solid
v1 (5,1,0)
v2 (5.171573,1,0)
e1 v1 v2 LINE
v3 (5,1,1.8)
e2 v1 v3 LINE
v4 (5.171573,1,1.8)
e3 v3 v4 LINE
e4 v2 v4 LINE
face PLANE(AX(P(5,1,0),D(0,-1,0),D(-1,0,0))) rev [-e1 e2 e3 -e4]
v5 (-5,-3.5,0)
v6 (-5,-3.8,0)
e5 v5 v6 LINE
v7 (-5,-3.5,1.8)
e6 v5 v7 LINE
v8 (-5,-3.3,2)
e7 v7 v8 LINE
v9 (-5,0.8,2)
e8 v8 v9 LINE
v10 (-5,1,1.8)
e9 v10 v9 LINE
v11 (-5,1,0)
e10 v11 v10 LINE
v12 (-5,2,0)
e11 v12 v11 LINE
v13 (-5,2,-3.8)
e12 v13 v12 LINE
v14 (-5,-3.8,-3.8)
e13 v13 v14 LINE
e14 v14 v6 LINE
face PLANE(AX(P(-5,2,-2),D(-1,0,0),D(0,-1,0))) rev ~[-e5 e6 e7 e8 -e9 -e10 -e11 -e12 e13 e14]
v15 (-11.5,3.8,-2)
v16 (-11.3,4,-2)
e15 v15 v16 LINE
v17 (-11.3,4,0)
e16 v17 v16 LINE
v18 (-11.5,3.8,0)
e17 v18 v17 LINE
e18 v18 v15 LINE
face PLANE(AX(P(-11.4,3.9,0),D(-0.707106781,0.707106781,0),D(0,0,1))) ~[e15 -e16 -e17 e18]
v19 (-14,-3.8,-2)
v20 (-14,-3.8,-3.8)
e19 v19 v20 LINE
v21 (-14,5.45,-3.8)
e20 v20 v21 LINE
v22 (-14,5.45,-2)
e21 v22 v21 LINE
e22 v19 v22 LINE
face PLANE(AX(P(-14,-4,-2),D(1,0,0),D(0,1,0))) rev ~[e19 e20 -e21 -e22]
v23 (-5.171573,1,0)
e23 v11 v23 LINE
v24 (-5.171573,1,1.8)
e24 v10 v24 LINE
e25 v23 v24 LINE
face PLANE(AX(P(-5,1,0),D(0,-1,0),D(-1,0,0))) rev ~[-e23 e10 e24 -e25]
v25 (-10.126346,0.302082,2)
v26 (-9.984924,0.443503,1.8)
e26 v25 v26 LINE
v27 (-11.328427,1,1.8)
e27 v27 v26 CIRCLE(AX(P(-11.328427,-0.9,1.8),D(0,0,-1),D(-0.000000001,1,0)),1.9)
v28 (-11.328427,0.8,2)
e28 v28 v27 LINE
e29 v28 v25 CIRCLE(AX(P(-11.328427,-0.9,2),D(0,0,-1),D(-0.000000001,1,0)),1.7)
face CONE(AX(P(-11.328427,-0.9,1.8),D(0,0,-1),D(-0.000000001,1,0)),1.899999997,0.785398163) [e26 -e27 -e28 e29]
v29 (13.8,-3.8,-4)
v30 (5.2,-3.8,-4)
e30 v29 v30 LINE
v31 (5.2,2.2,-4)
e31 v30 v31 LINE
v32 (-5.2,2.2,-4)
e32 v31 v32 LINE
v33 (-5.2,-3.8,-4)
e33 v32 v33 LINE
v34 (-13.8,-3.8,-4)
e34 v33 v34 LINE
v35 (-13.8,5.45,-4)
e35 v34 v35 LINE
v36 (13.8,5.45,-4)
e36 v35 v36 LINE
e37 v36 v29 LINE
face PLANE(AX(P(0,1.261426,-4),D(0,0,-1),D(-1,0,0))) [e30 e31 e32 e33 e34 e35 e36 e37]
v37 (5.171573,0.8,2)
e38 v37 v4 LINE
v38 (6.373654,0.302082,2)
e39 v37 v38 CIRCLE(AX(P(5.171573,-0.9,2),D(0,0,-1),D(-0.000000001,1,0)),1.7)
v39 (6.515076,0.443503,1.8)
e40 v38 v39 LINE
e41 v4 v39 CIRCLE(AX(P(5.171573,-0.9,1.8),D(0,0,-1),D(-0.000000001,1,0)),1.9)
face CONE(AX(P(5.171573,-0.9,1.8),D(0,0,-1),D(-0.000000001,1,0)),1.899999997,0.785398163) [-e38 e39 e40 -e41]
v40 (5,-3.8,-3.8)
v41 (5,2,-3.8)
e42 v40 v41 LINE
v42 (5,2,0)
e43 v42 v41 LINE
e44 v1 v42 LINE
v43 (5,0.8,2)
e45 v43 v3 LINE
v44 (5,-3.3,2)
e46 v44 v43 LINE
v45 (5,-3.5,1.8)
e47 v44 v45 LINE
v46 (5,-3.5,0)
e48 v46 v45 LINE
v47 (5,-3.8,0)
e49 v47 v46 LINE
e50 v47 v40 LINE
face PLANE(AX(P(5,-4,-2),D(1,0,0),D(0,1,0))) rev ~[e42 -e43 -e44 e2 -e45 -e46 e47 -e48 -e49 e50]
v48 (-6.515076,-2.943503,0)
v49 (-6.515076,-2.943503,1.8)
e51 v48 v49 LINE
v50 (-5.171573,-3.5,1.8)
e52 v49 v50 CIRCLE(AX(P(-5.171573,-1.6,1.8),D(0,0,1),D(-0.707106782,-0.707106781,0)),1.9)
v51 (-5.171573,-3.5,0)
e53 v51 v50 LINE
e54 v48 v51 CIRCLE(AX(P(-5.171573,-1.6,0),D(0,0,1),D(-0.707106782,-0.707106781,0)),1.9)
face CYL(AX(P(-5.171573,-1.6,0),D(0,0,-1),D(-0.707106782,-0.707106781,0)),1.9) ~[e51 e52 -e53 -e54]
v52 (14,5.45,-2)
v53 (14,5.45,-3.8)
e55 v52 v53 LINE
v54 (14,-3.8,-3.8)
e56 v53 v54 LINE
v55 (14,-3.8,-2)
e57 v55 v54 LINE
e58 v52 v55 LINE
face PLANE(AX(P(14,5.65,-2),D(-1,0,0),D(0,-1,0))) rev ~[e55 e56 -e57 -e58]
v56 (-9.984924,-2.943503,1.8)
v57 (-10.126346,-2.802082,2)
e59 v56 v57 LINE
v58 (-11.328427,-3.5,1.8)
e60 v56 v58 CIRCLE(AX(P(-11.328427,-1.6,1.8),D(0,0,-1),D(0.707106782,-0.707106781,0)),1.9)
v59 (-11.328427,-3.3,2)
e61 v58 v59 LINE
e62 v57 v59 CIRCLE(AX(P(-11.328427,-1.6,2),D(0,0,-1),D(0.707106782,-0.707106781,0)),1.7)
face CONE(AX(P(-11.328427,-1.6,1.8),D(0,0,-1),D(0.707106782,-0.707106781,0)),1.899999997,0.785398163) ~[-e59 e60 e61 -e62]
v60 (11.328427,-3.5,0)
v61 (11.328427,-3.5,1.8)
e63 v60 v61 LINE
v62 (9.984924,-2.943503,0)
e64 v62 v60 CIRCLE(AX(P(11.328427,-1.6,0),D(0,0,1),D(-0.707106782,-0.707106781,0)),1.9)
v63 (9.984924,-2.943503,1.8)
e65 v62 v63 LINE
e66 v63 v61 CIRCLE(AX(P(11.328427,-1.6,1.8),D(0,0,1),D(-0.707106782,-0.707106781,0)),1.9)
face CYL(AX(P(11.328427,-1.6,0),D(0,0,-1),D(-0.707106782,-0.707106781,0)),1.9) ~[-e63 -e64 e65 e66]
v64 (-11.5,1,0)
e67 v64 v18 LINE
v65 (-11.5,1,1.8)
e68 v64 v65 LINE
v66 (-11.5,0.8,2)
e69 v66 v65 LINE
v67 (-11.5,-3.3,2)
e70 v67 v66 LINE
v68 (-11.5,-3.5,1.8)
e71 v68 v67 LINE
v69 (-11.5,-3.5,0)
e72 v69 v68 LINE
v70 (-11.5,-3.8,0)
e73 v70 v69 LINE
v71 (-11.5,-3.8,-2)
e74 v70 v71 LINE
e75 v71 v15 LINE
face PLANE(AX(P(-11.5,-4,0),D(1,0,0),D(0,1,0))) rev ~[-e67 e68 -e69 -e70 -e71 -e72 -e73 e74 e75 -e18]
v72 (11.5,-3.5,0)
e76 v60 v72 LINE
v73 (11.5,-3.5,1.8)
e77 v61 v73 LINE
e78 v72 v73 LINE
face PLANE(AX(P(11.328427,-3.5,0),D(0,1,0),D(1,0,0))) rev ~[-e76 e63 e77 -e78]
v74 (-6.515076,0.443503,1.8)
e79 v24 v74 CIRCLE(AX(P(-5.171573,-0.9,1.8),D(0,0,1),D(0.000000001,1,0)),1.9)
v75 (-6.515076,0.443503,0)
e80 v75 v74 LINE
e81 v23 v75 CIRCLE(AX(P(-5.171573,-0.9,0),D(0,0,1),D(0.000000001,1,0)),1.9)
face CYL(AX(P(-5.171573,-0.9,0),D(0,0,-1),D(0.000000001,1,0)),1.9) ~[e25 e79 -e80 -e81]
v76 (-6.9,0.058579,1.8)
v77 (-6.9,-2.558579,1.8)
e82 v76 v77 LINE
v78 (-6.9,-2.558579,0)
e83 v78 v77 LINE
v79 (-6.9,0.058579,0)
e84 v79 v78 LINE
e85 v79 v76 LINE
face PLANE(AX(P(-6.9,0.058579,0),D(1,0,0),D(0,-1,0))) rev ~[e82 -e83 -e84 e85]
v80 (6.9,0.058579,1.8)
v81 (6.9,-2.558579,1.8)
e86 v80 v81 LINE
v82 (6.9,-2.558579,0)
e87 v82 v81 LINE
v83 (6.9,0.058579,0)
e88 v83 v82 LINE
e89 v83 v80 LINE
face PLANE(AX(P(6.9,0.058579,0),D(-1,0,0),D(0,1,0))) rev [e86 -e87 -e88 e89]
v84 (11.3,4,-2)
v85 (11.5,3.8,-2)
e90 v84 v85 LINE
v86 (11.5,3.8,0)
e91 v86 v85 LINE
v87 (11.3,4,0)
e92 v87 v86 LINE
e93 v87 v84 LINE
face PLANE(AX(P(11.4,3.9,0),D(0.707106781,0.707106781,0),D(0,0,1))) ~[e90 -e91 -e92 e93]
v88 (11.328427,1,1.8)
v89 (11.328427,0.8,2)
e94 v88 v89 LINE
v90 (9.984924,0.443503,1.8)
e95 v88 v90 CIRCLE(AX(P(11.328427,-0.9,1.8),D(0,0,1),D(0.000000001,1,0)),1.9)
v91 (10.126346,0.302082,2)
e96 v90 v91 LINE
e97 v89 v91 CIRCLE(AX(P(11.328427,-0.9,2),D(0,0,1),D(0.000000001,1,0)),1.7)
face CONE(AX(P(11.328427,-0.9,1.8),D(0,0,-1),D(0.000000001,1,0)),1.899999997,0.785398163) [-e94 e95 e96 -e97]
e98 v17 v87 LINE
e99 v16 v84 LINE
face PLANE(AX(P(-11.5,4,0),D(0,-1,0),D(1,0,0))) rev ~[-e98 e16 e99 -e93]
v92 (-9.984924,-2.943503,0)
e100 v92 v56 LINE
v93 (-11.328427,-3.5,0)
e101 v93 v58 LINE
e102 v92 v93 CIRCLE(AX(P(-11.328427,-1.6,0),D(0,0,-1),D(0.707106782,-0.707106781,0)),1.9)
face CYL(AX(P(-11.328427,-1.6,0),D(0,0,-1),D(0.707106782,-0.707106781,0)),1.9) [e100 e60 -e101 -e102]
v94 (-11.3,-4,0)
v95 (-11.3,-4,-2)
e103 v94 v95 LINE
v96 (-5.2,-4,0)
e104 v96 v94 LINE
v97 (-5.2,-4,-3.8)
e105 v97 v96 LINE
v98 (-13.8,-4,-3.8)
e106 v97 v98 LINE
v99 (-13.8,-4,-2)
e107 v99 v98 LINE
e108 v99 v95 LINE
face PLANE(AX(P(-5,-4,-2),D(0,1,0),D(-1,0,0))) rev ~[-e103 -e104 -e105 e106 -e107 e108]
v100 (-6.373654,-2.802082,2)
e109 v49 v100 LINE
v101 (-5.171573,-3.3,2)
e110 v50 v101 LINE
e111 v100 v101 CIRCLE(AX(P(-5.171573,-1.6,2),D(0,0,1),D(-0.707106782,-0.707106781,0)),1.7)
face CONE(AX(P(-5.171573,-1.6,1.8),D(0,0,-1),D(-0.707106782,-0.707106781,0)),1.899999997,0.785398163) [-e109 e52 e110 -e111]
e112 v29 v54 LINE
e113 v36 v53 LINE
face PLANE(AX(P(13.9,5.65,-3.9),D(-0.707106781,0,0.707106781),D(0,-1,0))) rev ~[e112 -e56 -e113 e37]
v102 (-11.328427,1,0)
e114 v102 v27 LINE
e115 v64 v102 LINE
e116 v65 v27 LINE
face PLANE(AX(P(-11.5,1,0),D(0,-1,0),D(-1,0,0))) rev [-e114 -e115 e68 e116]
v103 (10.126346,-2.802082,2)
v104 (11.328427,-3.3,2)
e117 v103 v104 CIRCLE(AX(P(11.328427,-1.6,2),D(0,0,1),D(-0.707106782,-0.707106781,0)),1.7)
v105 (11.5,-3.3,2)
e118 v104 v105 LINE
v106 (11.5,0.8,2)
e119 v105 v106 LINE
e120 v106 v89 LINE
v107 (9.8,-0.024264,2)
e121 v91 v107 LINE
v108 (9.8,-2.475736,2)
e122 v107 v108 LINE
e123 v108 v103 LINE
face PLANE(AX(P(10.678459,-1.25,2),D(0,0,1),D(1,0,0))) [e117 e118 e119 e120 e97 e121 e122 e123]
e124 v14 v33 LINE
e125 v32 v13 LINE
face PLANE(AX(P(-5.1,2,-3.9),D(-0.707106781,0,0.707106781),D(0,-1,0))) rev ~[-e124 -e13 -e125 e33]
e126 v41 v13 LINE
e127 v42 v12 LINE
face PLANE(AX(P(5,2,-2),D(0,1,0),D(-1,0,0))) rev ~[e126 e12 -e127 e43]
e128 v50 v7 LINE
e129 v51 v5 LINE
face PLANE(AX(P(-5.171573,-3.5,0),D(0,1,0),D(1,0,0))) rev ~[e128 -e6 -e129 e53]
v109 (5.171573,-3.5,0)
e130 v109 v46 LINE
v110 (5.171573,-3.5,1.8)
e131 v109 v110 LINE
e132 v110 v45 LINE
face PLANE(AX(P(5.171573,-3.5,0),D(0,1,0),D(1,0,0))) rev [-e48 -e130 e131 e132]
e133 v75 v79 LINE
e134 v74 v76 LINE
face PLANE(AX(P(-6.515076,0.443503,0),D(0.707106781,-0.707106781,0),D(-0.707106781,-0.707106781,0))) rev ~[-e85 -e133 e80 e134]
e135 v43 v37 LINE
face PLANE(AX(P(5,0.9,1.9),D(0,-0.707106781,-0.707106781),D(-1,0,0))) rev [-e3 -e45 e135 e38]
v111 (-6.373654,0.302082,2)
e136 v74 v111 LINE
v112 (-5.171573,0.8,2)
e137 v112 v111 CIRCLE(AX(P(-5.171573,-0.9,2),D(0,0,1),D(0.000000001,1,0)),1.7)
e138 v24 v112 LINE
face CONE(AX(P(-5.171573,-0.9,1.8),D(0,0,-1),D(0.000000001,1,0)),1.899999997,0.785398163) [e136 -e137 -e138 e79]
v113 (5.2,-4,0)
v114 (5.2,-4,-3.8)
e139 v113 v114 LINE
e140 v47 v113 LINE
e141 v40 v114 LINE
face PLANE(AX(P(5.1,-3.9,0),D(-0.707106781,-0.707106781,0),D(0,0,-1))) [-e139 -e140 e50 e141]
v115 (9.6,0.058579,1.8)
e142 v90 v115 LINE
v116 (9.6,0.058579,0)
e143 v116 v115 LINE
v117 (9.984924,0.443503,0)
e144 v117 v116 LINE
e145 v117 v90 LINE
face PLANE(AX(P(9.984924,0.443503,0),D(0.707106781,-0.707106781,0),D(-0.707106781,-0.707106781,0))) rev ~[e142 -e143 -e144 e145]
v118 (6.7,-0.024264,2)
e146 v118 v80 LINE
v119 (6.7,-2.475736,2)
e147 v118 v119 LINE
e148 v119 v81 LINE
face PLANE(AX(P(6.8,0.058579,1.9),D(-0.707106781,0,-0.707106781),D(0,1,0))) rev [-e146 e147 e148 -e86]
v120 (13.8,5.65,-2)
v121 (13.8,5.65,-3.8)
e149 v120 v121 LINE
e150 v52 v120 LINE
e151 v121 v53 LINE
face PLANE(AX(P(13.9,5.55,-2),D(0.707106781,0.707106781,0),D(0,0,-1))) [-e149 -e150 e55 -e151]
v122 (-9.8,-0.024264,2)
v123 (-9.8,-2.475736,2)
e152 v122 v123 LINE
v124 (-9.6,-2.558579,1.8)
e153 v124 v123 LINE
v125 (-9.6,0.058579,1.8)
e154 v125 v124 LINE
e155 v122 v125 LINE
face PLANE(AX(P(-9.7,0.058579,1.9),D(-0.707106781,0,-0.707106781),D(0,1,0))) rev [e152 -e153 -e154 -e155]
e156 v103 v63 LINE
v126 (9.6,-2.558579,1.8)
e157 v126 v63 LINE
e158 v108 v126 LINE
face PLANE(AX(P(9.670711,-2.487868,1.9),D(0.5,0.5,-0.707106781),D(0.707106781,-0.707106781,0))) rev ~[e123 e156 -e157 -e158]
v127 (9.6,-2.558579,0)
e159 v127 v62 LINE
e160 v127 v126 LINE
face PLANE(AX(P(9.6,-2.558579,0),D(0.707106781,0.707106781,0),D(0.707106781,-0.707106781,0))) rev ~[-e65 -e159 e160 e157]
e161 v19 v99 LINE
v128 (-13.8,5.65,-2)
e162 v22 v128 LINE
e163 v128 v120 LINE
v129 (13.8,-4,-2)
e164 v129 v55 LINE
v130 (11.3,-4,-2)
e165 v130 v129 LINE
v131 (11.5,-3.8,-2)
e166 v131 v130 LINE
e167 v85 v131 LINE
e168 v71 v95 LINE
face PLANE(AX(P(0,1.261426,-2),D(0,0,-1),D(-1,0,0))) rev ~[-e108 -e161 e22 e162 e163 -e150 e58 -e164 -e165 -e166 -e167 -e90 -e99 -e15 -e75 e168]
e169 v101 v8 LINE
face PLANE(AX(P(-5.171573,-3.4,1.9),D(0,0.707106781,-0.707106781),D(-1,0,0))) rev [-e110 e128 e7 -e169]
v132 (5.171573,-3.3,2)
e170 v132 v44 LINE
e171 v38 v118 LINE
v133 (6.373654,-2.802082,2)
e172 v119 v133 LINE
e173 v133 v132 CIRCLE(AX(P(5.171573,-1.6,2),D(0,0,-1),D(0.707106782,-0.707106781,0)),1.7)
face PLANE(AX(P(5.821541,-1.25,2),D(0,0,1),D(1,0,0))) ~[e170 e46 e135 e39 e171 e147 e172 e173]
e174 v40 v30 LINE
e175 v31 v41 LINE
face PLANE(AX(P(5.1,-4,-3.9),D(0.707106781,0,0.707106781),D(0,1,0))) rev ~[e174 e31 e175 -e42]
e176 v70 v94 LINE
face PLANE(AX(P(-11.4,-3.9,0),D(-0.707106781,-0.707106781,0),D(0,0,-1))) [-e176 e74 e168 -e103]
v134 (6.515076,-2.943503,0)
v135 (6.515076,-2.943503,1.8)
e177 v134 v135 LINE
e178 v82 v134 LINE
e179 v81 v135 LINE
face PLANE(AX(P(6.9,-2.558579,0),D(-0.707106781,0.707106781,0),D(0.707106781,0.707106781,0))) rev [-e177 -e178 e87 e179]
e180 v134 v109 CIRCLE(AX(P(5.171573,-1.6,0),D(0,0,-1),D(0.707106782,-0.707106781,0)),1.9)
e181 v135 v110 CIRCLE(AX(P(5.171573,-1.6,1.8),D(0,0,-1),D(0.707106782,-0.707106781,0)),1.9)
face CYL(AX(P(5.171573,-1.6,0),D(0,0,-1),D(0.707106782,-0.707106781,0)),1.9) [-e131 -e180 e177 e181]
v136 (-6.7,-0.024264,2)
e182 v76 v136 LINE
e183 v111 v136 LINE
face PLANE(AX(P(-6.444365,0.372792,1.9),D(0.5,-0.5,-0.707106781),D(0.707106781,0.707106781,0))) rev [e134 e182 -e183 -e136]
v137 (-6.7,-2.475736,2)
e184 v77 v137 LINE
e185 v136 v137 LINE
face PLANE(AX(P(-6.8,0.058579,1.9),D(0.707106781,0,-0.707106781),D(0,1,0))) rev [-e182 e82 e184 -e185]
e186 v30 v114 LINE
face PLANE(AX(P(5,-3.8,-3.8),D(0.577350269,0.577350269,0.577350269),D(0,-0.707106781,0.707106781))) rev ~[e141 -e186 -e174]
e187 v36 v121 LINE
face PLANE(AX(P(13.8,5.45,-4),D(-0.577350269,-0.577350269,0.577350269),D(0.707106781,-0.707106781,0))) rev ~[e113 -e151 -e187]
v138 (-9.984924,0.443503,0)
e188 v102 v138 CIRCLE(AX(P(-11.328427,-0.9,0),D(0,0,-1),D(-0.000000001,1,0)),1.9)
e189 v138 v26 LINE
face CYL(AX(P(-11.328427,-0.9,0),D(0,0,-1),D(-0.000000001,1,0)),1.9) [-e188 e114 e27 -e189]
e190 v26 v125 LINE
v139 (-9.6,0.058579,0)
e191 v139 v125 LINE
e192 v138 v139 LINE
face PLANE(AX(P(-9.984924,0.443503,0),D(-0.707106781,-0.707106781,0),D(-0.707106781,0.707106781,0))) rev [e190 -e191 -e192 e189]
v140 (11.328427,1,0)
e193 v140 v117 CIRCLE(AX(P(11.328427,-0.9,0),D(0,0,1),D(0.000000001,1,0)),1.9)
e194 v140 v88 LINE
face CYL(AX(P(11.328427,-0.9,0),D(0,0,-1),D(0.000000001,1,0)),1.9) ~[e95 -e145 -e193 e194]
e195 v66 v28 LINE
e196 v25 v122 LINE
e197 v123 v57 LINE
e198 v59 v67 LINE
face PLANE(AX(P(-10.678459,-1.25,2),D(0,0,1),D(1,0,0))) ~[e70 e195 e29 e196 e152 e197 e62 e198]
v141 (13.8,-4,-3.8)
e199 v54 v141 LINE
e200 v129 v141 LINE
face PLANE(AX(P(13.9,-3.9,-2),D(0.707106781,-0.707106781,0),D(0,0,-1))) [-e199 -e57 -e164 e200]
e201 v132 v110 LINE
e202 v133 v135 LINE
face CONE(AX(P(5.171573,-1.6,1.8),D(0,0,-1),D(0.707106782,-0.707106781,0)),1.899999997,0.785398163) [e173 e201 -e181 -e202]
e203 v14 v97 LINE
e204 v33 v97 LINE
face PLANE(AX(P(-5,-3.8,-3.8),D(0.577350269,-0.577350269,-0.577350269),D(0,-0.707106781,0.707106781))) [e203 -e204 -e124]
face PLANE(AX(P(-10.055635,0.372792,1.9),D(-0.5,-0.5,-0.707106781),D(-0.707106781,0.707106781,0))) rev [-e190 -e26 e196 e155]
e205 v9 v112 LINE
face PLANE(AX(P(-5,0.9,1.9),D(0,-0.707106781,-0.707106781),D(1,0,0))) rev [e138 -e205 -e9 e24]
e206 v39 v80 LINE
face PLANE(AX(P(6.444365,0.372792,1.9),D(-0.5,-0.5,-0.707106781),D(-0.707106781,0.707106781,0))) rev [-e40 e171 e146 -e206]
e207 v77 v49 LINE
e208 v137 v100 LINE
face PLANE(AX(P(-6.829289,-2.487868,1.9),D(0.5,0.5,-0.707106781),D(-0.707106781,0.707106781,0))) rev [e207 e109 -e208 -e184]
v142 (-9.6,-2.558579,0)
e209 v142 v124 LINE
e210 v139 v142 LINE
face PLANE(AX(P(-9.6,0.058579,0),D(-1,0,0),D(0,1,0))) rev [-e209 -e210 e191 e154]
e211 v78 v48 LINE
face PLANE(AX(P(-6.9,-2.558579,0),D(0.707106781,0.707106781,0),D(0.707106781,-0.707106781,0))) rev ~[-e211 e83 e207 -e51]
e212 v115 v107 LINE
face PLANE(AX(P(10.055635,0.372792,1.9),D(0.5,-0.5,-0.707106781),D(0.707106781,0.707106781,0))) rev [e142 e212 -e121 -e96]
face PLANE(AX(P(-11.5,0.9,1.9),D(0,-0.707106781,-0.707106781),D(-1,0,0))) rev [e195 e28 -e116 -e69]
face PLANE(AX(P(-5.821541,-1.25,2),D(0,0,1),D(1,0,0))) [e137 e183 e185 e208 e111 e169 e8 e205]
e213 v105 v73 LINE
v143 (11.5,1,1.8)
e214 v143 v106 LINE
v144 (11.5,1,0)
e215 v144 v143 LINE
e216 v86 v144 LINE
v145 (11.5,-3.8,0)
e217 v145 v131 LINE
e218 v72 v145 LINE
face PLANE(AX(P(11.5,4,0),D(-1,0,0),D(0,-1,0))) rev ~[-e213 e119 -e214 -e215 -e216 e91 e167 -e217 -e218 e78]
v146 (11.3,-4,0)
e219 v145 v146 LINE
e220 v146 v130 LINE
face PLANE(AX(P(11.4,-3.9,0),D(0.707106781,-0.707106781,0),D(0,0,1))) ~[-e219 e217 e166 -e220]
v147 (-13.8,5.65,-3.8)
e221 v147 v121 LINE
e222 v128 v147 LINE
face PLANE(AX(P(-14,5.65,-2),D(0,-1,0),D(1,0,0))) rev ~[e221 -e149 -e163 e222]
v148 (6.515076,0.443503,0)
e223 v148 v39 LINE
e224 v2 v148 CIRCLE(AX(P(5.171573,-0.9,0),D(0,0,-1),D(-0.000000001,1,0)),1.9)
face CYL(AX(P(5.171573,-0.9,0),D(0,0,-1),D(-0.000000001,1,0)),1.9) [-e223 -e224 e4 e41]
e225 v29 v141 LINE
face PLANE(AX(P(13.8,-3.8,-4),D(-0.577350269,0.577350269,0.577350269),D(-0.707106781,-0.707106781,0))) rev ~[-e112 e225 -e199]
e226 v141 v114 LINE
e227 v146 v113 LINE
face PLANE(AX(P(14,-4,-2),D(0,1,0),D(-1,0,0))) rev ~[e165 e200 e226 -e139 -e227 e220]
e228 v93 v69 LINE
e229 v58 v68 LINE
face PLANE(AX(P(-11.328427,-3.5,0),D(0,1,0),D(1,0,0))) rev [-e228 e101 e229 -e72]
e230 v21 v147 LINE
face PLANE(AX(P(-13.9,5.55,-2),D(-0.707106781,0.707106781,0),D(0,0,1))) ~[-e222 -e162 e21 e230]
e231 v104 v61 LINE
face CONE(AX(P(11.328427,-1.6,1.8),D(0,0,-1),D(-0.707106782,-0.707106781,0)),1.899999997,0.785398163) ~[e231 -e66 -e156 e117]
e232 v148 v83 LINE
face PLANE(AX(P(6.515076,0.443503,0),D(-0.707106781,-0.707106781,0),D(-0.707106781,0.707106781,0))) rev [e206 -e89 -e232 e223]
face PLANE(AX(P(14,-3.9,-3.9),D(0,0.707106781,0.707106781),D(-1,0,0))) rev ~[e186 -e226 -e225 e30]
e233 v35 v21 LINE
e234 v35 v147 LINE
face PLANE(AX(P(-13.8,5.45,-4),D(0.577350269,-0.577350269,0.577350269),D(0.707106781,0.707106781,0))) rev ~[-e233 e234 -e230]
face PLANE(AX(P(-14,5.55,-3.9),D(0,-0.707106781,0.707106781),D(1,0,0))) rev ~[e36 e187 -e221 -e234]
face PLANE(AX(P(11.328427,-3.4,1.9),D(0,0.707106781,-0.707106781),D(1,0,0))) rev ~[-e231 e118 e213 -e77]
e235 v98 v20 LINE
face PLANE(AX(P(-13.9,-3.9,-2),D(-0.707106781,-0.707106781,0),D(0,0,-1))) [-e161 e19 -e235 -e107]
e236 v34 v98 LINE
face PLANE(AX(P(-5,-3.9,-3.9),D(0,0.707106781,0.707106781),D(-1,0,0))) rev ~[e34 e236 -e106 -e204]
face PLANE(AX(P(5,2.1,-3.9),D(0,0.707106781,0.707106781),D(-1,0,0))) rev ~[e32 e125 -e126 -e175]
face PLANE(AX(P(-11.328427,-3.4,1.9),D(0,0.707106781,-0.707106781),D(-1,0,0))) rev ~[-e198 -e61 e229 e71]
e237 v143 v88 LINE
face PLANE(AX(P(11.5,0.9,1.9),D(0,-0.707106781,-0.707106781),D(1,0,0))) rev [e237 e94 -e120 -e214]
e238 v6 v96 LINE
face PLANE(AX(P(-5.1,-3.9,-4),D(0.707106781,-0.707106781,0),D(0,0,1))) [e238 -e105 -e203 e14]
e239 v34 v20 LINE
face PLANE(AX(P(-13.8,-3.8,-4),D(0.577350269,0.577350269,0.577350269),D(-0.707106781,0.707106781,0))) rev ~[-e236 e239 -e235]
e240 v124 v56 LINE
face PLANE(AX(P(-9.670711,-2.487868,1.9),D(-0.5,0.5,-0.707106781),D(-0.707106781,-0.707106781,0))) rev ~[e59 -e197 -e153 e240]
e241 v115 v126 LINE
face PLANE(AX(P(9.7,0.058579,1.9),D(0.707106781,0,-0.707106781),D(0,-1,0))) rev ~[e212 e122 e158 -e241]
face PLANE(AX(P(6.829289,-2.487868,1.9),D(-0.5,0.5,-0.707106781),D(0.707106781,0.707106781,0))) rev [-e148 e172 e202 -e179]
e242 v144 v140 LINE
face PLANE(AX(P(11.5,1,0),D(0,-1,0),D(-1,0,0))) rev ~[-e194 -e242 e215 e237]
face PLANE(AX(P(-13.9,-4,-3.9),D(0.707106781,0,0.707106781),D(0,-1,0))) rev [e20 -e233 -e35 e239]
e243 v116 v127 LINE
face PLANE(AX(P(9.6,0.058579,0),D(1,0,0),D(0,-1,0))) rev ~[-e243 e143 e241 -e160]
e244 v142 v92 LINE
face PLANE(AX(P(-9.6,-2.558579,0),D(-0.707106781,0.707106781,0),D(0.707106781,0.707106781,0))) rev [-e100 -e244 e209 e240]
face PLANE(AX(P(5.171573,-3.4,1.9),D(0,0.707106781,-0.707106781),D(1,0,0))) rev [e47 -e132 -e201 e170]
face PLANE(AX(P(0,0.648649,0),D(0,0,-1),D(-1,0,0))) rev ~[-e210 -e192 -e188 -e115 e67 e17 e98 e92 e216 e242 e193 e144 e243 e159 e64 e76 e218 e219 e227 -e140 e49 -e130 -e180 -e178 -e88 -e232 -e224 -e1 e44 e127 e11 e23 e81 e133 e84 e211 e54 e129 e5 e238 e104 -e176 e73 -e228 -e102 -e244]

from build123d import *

# Parameters (mm, degrees)
BOSS_EXTRUDE1_DEPTH  = 2
BOSS_EXTRUDE2_DEPTH  = 2
MIRROR2_COPY_1_DEPTH = 2
STOPPER_DEPTH        = 2
STOPPER_DEBURS_SIZE  = 0.2


with BuildPart() as part:
    # Sketch1 → Boss-Extrude1 (new body)
    with BuildSketch(Plane.XY):
        Polygon((-11.5, 4), (11.5, 4), (11.5, -4), (5, -4), (5, 2), (-5, 2), (-5, -4), (-11.5, -4), align=None)
    extrude(amount=-BOSS_EXTRUDE1_DEPTH)

    # Sketch2 → Boss-Extrude2 (add)
    with BuildSketch(Plane.XY):
        with BuildLine():
            Line((11.5, -3.5), (11.5, 1))
            Line((11.5, 1), (11.328427125, 1))
            ThreePointArc((11.328427125, 1), (10.601328603, 0.855371112), (9.98492424, 0.443502884))
            Line((9.98492424, 0.443502884), (9.6, 0.058578644))
            Line((9.6, 0.058578644), (9.6, -2.558578644))
            Line((9.6, -2.558578644), (9.98492424, -2.943502884))
            ThreePointArc((9.98492424, -2.943502884), (10.601328603, -3.355371112), (11.328427125, -3.5))
            Line((11.328427125, -3.5), (11.5, -3.5))
        make_face()
    boss_extrude2 = extrude(amount=BOSS_EXTRUDE2_DEPTH)

    # Mirror1: Boss-Extrude2 across plane
    add(boss_extrude2.mirror(Plane(origin=(8.25, 0, 0), x_dir=(0, 0, 1), z_dir=(1, 0, 0))))

    # Mirror2: Boss-Extrude2 across plane
    add(boss_extrude2.mirror(Plane(origin=(0, 0, 0), x_dir=(0, 0, 1), z_dir=(1, 0, 0))))

    # Mirror2 copy 1 sketch → Mirror2 copy 1 (add)
    with BuildSketch(Plane(origin=(-16.5, 0, 0), x_dir=(1, 0, 0), z_dir=(0, 0, 1))):
        with BuildLine():
            Line((11.5, -3.5), (11.5, 1))
            Line((11.5, 1), (11.328427125, 1))
            ThreePointArc((11.328427125, 1), (10.601328603, 0.855371112), (9.98492424, 0.443502884))
            Line((9.98492424, 0.443502884), (9.6, 0.058578644))
            Line((9.6, 0.058578644), (9.6, -2.558578644))
            Line((9.6, -2.558578644), (9.98492424, -2.943502884))
            ThreePointArc((9.98492424, -2.943502884), (10.601328603, -3.355371112), (11.328427125, -3.5))
            Line((11.328427125, -3.5), (11.5, -3.5))
        make_face()
    extrude(amount=MIRROR2_COPY_1_DEPTH)

    # Sketch4 → Stopper (add)
    with BuildSketch(Plane(origin=(0, 0, -2), x_dir=(-1, 0, 0), z_dir=(0, 0, -1))):
        Polygon((11.5, -4), (14, -4), (14, 5.65), (-14, 5.65), (-14, -4), (-11.5, -4), (-5, -4), (-5, 2), (5, 2), (5, -4), align=None)
    extrude(amount=STOPPER_DEPTH)

    # Stopper Deburs
    stopper_deburs_edges = [part.edges().sort_by_distance(p)[0] for p in [
        (-11.414213562, 1, 2),
        (-11.414213562, -3.5, 2),
        (-10.601328603, -3.355371112, 2),
        (-14, -4, -3),
        (-14, 5.65, -3),
        (14, 5.65, -3),
        (14, -4, -3),
        (-9.5, -4, -4),
        (-14, 0.825, -4),
        (0, 5.65, -4),
        (14, 0.825, -4),
        (9.5, -4, -4),
        (5, -1, -4),
        (0, 2, -4),
        (-5, -1, -4),
        (-11.5, 4, -1),
        (11.5, 4, -1),
        (11.5, -4, -1),
        (5, -4, -2),
        (-5, -4, -2),
        (-11.5, -4, -1),
        (9.79246212, -2.751040764, 2),
        (10.601328603, -3.355371112, 2),
        (11.414213562, -3.5, 2),
        (11.414213562, 1, 2),
        (10.601328603, 0.855371112, 2),
        (9.79246212, 0.251040764, 2),
        (9.6, -1.25, 2),
        (6.70753788, -2.751040764, 2),
        (6.9, -1.25, 2),
        (6.70753788, 0.251040764, 2),
        (5.898671397, 0.855371112, 2),
        (5.085786438, 1, 2),
        (5.085786438, -3.5, 2),
        (5.898671397, -3.355371112, 2),
        (-6.70753788, -2.751040764, 2),
        (-5.898671397, -3.355371112, 2),
        (-5.085786438, -3.5, 2),
        (-5.085786438, 1, 2),
        (-5.898671397, 0.855371112, 2),
        (-6.70753788, 0.251040764, 2),
        (-6.9, -1.25, 2),
        (-9.79246212, -2.751040764, 2),
        (-9.6, -1.25, 2),
        (-9.79246212, 0.251040764, 2),
        (-10.601328603, 0.855371112, 2),
    ]]
    chamfer(stopper_deburs_edges, length=STOPPER_DEBURS_SIZE)


solid = part.part
